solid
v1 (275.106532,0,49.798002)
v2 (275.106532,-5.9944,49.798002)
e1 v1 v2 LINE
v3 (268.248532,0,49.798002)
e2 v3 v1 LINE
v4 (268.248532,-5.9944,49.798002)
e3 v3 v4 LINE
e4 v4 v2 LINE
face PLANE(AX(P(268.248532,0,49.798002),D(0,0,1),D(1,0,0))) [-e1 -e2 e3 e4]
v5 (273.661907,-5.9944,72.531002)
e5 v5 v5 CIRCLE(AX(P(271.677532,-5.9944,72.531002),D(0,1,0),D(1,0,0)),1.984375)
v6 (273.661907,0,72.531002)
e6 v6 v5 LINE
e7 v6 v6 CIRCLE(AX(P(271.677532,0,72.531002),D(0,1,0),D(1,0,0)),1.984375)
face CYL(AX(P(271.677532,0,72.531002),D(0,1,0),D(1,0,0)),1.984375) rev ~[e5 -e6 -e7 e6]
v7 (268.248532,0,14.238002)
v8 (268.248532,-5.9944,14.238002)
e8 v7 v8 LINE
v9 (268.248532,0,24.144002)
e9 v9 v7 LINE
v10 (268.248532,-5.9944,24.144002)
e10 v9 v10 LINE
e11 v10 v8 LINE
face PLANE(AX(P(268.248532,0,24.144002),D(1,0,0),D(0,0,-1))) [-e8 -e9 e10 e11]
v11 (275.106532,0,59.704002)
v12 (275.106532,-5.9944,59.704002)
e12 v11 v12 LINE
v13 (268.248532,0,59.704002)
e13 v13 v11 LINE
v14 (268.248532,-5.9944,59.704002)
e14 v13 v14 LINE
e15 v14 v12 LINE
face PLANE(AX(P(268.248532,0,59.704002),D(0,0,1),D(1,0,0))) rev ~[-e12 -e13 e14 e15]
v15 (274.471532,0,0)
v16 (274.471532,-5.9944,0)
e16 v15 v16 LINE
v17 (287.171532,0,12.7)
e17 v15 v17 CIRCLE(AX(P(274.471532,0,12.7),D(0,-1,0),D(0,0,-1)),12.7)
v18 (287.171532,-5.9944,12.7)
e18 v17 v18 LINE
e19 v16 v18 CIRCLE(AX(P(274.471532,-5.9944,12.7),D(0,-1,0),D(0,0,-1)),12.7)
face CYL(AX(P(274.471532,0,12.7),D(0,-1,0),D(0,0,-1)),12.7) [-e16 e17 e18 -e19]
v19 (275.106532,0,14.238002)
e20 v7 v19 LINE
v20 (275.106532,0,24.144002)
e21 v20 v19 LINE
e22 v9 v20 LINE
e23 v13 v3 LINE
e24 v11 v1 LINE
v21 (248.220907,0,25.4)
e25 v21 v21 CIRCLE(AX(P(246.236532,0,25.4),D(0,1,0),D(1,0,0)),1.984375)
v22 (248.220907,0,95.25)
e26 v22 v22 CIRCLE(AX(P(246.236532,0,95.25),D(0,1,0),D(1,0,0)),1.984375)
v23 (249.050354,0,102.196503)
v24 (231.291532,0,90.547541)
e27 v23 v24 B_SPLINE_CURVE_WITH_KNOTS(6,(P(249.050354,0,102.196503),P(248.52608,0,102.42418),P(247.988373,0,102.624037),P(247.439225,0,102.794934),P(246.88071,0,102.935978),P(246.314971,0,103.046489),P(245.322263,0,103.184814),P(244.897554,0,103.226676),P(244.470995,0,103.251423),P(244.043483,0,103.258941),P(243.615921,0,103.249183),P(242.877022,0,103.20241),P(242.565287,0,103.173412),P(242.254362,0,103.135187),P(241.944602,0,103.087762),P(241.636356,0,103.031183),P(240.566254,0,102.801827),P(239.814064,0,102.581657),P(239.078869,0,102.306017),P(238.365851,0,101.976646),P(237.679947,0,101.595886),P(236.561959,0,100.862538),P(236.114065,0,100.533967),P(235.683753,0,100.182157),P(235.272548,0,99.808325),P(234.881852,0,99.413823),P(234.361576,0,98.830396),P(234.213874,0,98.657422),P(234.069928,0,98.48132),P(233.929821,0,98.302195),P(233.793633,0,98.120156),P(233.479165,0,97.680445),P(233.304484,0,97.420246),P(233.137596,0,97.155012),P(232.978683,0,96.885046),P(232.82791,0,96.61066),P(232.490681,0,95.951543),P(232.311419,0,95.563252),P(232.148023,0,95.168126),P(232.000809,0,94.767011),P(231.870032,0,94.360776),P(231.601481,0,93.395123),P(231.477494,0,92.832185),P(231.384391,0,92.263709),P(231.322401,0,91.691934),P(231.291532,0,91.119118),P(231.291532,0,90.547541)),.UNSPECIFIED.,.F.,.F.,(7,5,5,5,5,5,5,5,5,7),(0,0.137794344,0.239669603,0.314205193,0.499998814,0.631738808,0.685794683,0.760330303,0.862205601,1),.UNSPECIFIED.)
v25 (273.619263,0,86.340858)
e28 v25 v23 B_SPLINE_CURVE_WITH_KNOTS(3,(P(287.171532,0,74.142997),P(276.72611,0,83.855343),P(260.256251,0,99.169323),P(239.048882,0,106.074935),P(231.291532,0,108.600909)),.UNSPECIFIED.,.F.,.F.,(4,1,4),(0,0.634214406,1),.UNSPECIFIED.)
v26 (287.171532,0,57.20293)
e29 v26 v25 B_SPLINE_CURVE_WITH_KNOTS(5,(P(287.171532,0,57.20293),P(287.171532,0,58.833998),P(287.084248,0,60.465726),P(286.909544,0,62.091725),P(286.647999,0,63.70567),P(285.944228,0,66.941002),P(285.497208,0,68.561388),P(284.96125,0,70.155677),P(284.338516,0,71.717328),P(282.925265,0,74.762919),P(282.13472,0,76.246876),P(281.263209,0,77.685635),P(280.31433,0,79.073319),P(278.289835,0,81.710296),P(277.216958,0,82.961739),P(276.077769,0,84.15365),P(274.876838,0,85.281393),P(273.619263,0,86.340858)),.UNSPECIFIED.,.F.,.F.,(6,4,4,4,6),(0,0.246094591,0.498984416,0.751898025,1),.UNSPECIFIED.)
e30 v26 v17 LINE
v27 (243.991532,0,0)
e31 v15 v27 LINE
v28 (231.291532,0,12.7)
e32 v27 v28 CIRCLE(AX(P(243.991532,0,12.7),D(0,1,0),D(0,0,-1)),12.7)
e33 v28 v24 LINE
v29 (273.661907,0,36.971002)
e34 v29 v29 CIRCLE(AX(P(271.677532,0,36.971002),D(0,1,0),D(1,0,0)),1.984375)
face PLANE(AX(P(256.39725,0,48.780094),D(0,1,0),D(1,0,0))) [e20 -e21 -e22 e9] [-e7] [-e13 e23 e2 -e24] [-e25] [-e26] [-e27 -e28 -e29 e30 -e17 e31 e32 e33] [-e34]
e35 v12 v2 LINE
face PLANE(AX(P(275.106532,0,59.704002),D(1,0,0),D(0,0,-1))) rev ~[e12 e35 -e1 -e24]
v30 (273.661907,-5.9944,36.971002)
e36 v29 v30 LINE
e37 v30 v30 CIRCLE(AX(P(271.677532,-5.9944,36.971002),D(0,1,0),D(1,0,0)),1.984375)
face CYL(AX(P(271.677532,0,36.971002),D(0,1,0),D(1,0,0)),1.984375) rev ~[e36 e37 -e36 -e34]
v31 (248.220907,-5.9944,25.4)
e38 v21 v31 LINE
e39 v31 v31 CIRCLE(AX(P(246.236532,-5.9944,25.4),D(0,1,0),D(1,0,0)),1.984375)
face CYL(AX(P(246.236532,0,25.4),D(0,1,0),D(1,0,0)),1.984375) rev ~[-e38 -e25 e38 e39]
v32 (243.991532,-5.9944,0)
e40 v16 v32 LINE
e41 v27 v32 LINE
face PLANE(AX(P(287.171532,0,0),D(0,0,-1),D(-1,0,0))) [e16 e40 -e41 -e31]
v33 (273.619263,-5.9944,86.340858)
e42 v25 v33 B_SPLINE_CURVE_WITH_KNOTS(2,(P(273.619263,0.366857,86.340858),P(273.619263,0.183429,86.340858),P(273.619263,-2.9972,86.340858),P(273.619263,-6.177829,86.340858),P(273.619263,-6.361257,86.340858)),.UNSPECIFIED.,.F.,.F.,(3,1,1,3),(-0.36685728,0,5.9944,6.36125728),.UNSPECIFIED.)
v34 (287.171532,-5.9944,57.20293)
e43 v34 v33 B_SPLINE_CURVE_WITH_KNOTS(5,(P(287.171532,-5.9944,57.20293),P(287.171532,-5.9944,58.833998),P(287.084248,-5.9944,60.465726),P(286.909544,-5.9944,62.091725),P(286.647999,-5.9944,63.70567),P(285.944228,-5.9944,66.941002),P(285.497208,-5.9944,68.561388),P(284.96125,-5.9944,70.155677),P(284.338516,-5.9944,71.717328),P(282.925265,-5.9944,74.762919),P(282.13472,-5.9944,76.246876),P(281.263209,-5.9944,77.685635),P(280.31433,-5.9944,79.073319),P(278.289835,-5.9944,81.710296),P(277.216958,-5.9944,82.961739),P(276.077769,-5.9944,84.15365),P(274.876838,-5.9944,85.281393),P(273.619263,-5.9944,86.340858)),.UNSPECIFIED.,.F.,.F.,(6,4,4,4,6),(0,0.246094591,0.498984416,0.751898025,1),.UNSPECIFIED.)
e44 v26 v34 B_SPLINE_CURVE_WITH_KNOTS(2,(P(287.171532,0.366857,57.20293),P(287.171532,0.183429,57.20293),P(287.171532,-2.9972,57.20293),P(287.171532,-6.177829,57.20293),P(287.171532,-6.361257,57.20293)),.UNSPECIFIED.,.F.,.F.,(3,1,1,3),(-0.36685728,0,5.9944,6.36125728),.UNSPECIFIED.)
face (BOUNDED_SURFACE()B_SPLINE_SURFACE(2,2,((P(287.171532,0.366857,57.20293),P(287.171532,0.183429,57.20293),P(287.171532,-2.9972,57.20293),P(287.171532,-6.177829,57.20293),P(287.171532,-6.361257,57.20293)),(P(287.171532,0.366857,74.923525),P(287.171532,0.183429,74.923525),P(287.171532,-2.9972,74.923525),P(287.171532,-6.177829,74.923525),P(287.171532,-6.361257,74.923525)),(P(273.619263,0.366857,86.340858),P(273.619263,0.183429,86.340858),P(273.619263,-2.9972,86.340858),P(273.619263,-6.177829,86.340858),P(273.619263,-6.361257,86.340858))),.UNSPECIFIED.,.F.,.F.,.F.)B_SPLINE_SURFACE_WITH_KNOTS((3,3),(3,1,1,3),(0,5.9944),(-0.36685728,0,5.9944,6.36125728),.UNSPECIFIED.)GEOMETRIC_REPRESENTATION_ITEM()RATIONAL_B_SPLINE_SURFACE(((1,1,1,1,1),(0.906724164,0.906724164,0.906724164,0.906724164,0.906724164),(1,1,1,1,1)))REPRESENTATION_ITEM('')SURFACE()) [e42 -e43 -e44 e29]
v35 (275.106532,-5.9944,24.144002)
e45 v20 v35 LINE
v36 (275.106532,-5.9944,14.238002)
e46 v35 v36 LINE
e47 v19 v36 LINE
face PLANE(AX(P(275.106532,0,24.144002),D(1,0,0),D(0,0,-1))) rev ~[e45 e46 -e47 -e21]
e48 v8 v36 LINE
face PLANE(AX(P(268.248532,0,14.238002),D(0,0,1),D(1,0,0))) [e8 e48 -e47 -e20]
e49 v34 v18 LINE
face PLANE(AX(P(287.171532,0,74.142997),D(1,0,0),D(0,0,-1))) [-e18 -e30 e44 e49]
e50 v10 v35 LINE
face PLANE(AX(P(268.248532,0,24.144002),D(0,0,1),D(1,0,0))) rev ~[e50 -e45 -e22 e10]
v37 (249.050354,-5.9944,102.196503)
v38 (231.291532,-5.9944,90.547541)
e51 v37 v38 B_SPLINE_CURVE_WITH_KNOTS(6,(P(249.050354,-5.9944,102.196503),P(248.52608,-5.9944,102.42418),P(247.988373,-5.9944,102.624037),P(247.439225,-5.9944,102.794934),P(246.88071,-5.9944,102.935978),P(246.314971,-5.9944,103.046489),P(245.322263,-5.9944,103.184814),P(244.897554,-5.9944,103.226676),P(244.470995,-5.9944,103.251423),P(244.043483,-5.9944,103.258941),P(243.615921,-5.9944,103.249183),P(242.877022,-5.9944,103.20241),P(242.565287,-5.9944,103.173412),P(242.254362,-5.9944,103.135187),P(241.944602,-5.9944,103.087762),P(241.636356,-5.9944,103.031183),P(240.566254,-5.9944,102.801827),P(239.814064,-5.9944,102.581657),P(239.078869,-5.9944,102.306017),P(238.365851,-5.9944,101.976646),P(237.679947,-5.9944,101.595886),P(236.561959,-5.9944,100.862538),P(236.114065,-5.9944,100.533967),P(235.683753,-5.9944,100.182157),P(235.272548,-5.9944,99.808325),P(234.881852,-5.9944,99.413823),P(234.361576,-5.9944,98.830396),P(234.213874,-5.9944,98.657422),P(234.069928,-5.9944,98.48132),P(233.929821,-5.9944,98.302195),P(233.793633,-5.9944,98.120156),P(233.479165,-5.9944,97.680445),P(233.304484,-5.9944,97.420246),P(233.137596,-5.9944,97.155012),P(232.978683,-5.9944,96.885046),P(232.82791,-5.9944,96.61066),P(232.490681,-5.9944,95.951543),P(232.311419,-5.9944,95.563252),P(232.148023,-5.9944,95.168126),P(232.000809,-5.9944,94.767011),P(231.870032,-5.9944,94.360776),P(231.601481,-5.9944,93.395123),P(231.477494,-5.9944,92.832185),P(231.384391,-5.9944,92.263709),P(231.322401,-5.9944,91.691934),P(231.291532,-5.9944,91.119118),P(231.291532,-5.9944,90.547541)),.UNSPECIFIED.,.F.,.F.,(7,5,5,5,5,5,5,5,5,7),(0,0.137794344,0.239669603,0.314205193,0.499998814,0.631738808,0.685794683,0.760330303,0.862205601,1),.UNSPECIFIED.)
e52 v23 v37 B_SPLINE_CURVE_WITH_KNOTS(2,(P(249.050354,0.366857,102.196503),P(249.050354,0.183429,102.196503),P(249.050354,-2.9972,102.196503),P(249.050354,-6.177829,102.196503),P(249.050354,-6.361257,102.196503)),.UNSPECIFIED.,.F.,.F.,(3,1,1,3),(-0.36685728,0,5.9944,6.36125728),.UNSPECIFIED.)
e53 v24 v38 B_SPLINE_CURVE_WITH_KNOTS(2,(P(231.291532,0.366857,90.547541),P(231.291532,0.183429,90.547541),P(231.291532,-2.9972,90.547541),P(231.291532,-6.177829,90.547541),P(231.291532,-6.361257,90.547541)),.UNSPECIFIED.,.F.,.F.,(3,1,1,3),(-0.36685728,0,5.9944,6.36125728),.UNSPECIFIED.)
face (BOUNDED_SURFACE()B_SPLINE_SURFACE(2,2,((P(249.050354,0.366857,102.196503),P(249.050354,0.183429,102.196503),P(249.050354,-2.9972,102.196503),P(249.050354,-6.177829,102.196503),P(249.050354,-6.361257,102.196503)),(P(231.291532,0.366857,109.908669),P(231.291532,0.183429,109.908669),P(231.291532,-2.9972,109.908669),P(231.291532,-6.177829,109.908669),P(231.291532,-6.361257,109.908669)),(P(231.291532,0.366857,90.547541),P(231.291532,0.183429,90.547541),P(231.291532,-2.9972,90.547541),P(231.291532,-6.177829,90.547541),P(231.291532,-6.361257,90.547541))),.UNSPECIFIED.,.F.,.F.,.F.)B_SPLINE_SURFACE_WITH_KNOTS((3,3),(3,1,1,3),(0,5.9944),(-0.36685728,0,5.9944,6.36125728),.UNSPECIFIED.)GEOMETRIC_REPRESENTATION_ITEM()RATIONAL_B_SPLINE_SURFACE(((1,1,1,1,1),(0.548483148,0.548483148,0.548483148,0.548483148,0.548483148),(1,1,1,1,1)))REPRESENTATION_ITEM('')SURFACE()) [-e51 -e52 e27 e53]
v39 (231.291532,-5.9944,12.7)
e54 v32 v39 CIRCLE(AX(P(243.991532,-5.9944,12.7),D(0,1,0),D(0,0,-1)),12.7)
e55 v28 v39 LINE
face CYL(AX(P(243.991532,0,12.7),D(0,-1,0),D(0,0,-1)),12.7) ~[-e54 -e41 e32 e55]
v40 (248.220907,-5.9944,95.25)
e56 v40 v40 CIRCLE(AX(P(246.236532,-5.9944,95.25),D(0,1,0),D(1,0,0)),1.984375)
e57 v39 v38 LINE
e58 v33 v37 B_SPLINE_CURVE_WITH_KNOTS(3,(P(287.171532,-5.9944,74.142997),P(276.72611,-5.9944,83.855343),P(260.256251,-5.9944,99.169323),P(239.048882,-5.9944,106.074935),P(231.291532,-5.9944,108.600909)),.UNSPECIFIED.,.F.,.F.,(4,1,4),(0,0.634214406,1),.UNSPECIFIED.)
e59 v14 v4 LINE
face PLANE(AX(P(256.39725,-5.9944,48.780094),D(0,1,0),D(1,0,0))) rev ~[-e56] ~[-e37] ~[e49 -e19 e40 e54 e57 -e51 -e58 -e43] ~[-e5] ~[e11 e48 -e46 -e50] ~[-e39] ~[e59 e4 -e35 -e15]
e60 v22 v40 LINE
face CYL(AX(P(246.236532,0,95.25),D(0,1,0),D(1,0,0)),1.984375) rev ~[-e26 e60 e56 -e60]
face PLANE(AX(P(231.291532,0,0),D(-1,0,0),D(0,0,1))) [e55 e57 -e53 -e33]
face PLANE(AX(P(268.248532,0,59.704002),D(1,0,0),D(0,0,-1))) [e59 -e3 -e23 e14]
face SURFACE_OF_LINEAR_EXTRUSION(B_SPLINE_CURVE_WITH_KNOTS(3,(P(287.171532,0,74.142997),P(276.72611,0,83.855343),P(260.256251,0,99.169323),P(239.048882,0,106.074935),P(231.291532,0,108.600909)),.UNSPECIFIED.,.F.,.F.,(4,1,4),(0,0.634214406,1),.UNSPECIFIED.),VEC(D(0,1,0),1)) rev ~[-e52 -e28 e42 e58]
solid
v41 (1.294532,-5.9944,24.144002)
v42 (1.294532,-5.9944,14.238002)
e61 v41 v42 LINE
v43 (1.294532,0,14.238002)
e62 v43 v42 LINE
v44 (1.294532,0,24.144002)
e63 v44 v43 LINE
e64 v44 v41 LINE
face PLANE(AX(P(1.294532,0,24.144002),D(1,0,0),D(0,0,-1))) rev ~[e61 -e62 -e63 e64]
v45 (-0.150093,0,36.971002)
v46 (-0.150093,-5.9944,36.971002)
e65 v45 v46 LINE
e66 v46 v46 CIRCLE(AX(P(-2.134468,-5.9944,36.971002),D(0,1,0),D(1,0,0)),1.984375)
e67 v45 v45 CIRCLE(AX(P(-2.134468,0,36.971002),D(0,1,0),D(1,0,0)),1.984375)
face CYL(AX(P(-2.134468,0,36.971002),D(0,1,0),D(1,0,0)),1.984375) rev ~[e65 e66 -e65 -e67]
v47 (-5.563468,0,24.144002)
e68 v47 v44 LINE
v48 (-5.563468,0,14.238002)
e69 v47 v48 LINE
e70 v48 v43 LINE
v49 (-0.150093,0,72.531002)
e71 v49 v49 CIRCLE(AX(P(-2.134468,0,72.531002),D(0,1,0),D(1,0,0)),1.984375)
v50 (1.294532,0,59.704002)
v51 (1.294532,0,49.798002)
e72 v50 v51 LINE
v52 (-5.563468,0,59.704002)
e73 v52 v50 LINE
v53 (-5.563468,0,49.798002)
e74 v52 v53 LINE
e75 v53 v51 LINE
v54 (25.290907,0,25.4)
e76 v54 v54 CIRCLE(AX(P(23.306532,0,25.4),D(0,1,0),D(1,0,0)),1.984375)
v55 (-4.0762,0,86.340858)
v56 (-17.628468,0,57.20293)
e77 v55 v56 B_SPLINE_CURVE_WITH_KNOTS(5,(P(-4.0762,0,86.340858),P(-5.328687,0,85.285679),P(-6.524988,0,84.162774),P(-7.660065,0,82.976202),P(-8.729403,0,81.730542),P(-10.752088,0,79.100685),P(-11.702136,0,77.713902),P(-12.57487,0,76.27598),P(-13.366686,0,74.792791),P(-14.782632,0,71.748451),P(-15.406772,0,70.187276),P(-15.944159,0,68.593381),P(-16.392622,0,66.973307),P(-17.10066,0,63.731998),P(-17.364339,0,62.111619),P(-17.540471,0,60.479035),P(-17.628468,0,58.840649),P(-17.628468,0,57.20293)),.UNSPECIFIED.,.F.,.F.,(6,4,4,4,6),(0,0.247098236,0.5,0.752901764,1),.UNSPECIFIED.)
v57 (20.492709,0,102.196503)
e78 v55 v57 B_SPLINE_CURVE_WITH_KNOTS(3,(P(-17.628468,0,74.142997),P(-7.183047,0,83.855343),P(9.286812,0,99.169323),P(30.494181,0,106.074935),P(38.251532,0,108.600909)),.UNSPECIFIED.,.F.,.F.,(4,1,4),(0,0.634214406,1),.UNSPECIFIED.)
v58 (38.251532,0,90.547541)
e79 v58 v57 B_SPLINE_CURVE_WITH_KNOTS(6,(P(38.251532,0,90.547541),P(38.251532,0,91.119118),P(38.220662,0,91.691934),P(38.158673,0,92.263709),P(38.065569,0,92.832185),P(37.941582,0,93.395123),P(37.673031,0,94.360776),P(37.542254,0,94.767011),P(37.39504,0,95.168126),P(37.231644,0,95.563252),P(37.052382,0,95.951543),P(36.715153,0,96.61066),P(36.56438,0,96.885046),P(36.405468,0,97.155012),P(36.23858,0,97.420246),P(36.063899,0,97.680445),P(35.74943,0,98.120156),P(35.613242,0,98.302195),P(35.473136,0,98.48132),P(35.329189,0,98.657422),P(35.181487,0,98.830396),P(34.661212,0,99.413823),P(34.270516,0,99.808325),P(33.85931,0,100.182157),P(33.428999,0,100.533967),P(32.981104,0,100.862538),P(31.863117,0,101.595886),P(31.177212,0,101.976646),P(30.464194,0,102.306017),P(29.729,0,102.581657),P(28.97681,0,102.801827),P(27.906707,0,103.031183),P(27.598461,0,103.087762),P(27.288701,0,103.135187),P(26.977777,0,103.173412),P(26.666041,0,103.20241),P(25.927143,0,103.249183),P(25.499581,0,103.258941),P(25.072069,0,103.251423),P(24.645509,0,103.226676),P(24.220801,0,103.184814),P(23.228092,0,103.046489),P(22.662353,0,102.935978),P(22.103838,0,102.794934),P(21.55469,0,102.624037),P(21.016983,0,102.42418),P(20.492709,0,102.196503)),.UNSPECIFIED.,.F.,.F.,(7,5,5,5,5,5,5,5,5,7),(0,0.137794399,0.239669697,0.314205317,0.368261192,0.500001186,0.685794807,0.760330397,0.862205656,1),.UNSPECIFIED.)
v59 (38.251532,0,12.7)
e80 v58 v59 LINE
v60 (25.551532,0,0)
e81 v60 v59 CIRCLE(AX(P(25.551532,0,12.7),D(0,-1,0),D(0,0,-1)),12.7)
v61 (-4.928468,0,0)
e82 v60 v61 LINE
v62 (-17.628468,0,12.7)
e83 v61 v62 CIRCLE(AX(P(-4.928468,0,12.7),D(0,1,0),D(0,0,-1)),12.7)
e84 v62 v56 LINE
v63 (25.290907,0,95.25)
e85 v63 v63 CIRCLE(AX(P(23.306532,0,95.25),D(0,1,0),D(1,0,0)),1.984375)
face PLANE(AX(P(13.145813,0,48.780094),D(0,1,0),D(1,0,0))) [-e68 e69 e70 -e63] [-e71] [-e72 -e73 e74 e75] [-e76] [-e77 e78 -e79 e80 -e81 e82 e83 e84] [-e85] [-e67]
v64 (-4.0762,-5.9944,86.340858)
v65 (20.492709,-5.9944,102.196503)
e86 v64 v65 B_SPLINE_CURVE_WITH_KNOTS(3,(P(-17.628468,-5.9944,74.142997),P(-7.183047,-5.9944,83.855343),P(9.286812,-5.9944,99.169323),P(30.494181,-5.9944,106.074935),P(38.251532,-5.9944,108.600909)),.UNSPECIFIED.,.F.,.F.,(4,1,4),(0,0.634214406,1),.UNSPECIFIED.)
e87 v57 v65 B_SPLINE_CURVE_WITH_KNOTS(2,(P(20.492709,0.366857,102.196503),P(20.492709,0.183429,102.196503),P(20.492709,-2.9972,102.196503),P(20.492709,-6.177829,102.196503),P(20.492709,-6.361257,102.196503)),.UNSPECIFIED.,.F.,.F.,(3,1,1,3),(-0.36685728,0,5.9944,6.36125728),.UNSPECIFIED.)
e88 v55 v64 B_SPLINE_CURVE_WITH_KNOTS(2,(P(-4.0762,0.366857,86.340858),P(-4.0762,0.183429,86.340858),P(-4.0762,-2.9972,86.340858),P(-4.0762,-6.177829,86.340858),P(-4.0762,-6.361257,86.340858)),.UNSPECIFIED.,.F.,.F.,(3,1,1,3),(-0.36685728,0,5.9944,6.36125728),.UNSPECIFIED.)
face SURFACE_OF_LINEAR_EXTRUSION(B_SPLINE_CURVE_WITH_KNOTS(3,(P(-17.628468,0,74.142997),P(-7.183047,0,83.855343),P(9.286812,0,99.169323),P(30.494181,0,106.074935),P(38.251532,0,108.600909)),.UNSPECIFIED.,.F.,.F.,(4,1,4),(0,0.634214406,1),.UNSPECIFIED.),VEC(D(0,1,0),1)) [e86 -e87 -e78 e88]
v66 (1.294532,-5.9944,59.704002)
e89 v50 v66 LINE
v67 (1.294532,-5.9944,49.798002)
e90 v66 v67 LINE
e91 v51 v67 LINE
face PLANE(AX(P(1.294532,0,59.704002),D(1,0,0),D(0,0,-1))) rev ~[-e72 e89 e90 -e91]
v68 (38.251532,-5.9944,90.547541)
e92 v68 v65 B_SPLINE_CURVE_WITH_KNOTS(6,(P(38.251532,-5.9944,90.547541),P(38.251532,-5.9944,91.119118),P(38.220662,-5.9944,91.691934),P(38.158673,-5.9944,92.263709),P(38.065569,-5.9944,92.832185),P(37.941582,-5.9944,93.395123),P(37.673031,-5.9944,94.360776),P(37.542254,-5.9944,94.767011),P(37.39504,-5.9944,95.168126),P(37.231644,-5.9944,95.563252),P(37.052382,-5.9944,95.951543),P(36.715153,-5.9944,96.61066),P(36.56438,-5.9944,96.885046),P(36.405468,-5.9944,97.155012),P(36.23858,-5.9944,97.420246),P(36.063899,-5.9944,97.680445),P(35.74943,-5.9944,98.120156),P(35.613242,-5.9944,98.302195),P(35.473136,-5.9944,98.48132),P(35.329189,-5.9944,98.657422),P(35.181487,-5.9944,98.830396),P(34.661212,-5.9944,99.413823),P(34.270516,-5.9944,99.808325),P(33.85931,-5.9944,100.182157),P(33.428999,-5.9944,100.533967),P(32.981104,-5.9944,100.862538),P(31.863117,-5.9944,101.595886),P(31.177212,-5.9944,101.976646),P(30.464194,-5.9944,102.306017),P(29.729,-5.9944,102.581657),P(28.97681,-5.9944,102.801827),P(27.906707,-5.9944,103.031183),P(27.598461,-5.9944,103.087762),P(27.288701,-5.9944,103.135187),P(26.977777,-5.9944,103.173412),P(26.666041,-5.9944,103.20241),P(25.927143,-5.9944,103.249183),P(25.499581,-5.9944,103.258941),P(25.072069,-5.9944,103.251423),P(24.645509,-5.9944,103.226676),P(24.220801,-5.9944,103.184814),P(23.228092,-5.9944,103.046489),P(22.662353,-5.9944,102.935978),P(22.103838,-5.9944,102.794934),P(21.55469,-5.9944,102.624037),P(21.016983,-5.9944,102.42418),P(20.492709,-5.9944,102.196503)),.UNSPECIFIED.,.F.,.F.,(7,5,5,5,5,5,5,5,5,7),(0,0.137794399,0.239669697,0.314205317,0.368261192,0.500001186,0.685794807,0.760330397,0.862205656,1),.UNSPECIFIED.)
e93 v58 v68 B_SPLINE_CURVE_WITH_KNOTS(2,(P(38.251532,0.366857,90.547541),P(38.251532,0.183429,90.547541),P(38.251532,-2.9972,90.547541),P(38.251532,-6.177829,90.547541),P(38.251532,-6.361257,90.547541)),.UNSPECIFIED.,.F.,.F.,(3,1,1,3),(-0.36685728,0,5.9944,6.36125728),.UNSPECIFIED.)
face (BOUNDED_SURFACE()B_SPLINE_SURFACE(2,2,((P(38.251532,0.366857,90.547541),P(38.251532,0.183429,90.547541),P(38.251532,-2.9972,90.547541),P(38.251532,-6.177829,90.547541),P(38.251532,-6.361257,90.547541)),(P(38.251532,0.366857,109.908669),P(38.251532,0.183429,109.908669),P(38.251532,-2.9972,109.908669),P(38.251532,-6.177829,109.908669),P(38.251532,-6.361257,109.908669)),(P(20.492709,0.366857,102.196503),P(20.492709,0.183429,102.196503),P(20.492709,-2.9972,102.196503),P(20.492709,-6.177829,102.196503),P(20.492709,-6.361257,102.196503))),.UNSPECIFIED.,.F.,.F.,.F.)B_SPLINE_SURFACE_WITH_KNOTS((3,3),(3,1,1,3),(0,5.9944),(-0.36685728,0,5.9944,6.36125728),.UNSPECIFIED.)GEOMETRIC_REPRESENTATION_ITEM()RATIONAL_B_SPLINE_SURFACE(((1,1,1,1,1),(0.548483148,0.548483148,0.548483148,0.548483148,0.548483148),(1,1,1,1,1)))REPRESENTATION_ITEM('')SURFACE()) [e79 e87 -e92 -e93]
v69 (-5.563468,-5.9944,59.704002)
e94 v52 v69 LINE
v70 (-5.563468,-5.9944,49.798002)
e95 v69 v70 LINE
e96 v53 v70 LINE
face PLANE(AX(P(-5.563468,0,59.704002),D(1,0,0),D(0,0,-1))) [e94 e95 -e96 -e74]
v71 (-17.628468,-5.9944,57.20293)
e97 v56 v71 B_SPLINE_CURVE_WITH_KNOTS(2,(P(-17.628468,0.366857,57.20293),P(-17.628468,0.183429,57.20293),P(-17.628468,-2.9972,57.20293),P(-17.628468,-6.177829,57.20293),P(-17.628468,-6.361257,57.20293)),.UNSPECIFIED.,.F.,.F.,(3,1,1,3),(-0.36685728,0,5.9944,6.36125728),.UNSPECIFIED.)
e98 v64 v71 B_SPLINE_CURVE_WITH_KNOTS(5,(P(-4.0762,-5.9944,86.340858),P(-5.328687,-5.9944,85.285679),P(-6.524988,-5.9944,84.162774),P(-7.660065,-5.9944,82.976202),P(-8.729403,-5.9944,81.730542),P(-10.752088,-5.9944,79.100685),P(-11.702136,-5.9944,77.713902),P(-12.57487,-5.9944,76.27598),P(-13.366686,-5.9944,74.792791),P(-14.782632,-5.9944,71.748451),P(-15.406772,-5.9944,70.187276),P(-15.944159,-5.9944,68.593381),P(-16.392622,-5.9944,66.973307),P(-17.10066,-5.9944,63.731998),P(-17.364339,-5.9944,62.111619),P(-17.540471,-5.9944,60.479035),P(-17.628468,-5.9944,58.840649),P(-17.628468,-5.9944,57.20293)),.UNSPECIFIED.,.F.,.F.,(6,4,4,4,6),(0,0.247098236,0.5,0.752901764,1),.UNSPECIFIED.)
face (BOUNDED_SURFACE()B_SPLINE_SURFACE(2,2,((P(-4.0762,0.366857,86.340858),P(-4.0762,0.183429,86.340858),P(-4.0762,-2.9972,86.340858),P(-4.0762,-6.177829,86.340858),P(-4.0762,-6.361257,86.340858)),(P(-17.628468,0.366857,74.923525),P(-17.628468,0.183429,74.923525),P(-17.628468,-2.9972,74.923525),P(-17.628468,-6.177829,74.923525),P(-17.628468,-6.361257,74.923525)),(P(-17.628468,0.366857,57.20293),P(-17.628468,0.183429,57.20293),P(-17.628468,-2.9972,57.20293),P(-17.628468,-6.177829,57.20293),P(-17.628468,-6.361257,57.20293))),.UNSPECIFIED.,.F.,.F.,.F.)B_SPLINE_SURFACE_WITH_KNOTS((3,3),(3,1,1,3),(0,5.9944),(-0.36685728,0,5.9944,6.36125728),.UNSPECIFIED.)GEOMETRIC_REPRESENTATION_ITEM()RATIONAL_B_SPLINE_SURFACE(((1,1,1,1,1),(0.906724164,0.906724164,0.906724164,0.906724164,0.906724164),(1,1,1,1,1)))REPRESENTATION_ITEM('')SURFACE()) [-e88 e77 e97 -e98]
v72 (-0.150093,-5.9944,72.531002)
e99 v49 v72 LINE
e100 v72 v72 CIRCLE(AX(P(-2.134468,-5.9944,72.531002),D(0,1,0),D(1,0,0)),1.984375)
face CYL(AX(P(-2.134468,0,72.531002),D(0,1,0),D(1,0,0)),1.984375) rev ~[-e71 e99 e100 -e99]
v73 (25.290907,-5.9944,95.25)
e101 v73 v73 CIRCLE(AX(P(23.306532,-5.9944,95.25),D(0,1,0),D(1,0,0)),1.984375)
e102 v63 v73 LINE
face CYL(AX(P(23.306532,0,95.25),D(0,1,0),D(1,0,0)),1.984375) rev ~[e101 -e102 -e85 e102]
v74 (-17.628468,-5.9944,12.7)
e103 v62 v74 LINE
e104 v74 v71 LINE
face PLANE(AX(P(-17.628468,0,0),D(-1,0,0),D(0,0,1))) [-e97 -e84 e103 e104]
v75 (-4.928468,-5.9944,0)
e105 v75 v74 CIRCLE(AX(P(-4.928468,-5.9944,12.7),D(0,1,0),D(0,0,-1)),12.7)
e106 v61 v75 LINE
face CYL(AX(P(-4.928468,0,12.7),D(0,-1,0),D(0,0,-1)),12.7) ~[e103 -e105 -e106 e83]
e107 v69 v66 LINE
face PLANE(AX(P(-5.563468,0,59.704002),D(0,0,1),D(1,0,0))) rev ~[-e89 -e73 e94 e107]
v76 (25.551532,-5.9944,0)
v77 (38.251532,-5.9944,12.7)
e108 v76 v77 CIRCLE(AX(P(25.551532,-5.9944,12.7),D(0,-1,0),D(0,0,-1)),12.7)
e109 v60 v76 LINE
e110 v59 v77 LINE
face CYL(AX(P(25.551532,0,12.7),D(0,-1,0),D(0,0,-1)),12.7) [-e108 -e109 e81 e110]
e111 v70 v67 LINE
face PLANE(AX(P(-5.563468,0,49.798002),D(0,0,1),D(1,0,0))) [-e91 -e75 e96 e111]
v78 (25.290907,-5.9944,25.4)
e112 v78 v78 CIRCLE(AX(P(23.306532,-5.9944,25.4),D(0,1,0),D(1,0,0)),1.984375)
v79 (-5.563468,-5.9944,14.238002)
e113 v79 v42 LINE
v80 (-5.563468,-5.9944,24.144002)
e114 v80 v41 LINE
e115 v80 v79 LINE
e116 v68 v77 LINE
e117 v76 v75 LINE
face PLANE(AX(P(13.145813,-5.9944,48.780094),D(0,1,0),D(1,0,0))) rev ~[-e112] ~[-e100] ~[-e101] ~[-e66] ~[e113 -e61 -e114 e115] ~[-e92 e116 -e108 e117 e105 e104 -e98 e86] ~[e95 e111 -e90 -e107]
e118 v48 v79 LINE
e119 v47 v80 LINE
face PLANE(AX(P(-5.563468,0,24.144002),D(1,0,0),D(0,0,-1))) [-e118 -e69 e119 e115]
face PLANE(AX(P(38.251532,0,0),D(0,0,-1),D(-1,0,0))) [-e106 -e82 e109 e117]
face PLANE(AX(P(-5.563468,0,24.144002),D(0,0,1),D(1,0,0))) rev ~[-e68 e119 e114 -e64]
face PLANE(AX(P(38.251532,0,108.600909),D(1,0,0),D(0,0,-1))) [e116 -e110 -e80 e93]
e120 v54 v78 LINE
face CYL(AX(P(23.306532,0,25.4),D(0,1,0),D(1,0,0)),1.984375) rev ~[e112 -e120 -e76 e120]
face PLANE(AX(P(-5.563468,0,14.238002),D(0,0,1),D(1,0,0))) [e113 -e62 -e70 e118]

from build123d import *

# Parameters (mm, degrees)
SKETCH1_R        = 1.984375
SKETCH1_W        = 6.858
SKETCH1_H        = 9.906
EXTRUDE1_DEPTH   = 5.9944
EXTRUDE1_2_DEPTH = 5.9944
FILLET1_R        = 12.7
FILLET2_R        = 12.7
FILLET3_R        = 12.7
FILLET5_R        = 12.7
FILLET6_R        = 12.7
FILLET7_R        = 38.1
FILLET8_R        = 38.1
FILLET9_R        = 12.7


with BuildPart() as part:
    # Sketch1 → Extrude1 (new body)
    with BuildSketch(Plane(origin=(0, 0, 0), x_dir=(1, 0, 0), z_dir=(0, 1, 0))):
        with BuildLine():
            Line((38.251531685, 0), (-17.628468315, 0))
            Line((-17.628468315, 0), (-17.628468315, -74.142996555))
            add(Edge.make_bspline(
                [(-17.628468315, -74.142996555), (-7.183046663, -83.85534331), (9.286812039, -99.169323354), (30.494181461, -106.074935248), (38.251531685, -108.600908597)],
                knots=[0, 0, 0, 0, 0.634214406, 1, 1, 1, 1], degree=3))
            Line((38.251531685, -108.600908597), (38.251531685, 0))
        make_face()
        with Locations((23.306531685, -95.25)):
            Circle(SKETCH1_R, mode=Mode.SUBTRACT)
        with Locations((-2.134468315, -72.531002397)):
            Circle(SKETCH1_R, mode=Mode.SUBTRACT)
        with Locations((-2.134468315, -54.751002397)):
            Rectangle(SKETCH1_W, SKETCH1_H, mode=Mode.SUBTRACT)
        with Locations((-2.134468315, -36.971002397)):
            Circle(SKETCH1_R, mode=Mode.SUBTRACT)
        with Locations((23.306531685, -25.4)):
            Circle(SKETCH1_R, mode=Mode.SUBTRACT)
        with Locations((-2.134468315, -19.191002397)):
            Rectangle(SKETCH1_W, SKETCH1_H, mode=Mode.SUBTRACT)
    extrude(amount=-EXTRUDE1_DEPTH)

    # Fillet1
    fillet1_edges = [part.edges().sort_by_distance(p)[0] for p in [
        (-17.628468315, -2.9972, 0),
    ]]
    fillet(fillet1_edges, radius=FILLET1_R)

    # Fillet2
    fillet2_edges = [part.edges().sort_by_distance(p)[0] for p in [
        (38.251531685, -2.9972, 0),
    ]]
    fillet(fillet2_edges, radius=FILLET2_R)

    # Fillet6
    fillet6_edges = [part.edges().sort_by_distance(p)[0] for p in [
        (38.251531685, -2.9972, 108.600908597),
    ]]
    fillet(fillet6_edges, radius=FILLET6_R)

    # Fillet7
    fillet7_edges = [part.edges().sort_by_distance(p)[0] for p in [
        (-17.628468315, -2.9972, 74.142996555),
    ]]
    fillet(fillet7_edges, radius=FILLET7_R)


with BuildPart() as body_2:
    # Sketch1 → Extrude1 2 (new body)
    with BuildSketch(Plane(origin=(0, 0, 0), x_dir=(1, 0, 0), z_dir=(0, 1, 0))):
        with BuildLine():
            Line((287.171531685, 0), (231.291531685, 0))
            Line((231.291531685, 0), (231.291531685, -108.600908597))
            add(Edge.make_bspline(
                [(287.171531685, -74.142996555), (276.726110033, -83.85534331), (260.25625133, -99.169323354), (239.048881908, -106.074935248), (231.291531685, -108.600908597)],
                knots=[0, 0, 0, 0, 0.634214406, 1, 1, 1, 1], degree=3))
            Line((287.171531685, -74.142996555), (287.171531685, 0))
        make_face()
        with Locations((246.236531685, -95.25)):
            Circle(SKETCH1_R, mode=Mode.SUBTRACT)
        with Locations((271.677531685, -72.531002397)):
            Circle(SKETCH1_R, mode=Mode.SUBTRACT)
        with Locations((271.677531685, -54.751002397)):
            Rectangle(SKETCH1_W, SKETCH1_H, mode=Mode.SUBTRACT)
        with Locations((246.236531685, -25.4)):
            Circle(SKETCH1_R, mode=Mode.SUBTRACT)
        with Locations((271.677531685, -36.971002397)):
            Circle(SKETCH1_R, mode=Mode.SUBTRACT)
        with Locations((271.677531685, -19.191002397)):
            Rectangle(SKETCH1_W, SKETCH1_H, mode=Mode.SUBTRACT)
    extrude(amount=-EXTRUDE1_2_DEPTH)

    # Fillet3
    fillet3_edges = [body_2.edges().sort_by_distance(p)[0] for p in [
        (287.171531685, -2.9972, 0),
    ]]
    fillet(fillet3_edges, radius=FILLET3_R)

    # Fillet5
    fillet5_edges = [body_2.edges().sort_by_distance(p)[0] for p in [
        (231.291531685, -2.9972, 0),
    ]]
    fillet(fillet5_edges, radius=FILLET5_R)

    # Fillet8
    fillet8_edges = [body_2.edges().sort_by_distance(p)[0] for p in [
        (287.171531685, -2.9972, 74.142996555),
    ]]
    fillet(fillet8_edges, radius=FILLET8_R)

    # Fillet9
    fillet9_edges = [body_2.edges().sort_by_distance(p)[0] for p in [
        (231.291531685, -2.9972, 108.600908597),
    ]]
    fillet(fillet9_edges, radius=FILLET9_R)


solid = Compound([part.part, body_2.part])
